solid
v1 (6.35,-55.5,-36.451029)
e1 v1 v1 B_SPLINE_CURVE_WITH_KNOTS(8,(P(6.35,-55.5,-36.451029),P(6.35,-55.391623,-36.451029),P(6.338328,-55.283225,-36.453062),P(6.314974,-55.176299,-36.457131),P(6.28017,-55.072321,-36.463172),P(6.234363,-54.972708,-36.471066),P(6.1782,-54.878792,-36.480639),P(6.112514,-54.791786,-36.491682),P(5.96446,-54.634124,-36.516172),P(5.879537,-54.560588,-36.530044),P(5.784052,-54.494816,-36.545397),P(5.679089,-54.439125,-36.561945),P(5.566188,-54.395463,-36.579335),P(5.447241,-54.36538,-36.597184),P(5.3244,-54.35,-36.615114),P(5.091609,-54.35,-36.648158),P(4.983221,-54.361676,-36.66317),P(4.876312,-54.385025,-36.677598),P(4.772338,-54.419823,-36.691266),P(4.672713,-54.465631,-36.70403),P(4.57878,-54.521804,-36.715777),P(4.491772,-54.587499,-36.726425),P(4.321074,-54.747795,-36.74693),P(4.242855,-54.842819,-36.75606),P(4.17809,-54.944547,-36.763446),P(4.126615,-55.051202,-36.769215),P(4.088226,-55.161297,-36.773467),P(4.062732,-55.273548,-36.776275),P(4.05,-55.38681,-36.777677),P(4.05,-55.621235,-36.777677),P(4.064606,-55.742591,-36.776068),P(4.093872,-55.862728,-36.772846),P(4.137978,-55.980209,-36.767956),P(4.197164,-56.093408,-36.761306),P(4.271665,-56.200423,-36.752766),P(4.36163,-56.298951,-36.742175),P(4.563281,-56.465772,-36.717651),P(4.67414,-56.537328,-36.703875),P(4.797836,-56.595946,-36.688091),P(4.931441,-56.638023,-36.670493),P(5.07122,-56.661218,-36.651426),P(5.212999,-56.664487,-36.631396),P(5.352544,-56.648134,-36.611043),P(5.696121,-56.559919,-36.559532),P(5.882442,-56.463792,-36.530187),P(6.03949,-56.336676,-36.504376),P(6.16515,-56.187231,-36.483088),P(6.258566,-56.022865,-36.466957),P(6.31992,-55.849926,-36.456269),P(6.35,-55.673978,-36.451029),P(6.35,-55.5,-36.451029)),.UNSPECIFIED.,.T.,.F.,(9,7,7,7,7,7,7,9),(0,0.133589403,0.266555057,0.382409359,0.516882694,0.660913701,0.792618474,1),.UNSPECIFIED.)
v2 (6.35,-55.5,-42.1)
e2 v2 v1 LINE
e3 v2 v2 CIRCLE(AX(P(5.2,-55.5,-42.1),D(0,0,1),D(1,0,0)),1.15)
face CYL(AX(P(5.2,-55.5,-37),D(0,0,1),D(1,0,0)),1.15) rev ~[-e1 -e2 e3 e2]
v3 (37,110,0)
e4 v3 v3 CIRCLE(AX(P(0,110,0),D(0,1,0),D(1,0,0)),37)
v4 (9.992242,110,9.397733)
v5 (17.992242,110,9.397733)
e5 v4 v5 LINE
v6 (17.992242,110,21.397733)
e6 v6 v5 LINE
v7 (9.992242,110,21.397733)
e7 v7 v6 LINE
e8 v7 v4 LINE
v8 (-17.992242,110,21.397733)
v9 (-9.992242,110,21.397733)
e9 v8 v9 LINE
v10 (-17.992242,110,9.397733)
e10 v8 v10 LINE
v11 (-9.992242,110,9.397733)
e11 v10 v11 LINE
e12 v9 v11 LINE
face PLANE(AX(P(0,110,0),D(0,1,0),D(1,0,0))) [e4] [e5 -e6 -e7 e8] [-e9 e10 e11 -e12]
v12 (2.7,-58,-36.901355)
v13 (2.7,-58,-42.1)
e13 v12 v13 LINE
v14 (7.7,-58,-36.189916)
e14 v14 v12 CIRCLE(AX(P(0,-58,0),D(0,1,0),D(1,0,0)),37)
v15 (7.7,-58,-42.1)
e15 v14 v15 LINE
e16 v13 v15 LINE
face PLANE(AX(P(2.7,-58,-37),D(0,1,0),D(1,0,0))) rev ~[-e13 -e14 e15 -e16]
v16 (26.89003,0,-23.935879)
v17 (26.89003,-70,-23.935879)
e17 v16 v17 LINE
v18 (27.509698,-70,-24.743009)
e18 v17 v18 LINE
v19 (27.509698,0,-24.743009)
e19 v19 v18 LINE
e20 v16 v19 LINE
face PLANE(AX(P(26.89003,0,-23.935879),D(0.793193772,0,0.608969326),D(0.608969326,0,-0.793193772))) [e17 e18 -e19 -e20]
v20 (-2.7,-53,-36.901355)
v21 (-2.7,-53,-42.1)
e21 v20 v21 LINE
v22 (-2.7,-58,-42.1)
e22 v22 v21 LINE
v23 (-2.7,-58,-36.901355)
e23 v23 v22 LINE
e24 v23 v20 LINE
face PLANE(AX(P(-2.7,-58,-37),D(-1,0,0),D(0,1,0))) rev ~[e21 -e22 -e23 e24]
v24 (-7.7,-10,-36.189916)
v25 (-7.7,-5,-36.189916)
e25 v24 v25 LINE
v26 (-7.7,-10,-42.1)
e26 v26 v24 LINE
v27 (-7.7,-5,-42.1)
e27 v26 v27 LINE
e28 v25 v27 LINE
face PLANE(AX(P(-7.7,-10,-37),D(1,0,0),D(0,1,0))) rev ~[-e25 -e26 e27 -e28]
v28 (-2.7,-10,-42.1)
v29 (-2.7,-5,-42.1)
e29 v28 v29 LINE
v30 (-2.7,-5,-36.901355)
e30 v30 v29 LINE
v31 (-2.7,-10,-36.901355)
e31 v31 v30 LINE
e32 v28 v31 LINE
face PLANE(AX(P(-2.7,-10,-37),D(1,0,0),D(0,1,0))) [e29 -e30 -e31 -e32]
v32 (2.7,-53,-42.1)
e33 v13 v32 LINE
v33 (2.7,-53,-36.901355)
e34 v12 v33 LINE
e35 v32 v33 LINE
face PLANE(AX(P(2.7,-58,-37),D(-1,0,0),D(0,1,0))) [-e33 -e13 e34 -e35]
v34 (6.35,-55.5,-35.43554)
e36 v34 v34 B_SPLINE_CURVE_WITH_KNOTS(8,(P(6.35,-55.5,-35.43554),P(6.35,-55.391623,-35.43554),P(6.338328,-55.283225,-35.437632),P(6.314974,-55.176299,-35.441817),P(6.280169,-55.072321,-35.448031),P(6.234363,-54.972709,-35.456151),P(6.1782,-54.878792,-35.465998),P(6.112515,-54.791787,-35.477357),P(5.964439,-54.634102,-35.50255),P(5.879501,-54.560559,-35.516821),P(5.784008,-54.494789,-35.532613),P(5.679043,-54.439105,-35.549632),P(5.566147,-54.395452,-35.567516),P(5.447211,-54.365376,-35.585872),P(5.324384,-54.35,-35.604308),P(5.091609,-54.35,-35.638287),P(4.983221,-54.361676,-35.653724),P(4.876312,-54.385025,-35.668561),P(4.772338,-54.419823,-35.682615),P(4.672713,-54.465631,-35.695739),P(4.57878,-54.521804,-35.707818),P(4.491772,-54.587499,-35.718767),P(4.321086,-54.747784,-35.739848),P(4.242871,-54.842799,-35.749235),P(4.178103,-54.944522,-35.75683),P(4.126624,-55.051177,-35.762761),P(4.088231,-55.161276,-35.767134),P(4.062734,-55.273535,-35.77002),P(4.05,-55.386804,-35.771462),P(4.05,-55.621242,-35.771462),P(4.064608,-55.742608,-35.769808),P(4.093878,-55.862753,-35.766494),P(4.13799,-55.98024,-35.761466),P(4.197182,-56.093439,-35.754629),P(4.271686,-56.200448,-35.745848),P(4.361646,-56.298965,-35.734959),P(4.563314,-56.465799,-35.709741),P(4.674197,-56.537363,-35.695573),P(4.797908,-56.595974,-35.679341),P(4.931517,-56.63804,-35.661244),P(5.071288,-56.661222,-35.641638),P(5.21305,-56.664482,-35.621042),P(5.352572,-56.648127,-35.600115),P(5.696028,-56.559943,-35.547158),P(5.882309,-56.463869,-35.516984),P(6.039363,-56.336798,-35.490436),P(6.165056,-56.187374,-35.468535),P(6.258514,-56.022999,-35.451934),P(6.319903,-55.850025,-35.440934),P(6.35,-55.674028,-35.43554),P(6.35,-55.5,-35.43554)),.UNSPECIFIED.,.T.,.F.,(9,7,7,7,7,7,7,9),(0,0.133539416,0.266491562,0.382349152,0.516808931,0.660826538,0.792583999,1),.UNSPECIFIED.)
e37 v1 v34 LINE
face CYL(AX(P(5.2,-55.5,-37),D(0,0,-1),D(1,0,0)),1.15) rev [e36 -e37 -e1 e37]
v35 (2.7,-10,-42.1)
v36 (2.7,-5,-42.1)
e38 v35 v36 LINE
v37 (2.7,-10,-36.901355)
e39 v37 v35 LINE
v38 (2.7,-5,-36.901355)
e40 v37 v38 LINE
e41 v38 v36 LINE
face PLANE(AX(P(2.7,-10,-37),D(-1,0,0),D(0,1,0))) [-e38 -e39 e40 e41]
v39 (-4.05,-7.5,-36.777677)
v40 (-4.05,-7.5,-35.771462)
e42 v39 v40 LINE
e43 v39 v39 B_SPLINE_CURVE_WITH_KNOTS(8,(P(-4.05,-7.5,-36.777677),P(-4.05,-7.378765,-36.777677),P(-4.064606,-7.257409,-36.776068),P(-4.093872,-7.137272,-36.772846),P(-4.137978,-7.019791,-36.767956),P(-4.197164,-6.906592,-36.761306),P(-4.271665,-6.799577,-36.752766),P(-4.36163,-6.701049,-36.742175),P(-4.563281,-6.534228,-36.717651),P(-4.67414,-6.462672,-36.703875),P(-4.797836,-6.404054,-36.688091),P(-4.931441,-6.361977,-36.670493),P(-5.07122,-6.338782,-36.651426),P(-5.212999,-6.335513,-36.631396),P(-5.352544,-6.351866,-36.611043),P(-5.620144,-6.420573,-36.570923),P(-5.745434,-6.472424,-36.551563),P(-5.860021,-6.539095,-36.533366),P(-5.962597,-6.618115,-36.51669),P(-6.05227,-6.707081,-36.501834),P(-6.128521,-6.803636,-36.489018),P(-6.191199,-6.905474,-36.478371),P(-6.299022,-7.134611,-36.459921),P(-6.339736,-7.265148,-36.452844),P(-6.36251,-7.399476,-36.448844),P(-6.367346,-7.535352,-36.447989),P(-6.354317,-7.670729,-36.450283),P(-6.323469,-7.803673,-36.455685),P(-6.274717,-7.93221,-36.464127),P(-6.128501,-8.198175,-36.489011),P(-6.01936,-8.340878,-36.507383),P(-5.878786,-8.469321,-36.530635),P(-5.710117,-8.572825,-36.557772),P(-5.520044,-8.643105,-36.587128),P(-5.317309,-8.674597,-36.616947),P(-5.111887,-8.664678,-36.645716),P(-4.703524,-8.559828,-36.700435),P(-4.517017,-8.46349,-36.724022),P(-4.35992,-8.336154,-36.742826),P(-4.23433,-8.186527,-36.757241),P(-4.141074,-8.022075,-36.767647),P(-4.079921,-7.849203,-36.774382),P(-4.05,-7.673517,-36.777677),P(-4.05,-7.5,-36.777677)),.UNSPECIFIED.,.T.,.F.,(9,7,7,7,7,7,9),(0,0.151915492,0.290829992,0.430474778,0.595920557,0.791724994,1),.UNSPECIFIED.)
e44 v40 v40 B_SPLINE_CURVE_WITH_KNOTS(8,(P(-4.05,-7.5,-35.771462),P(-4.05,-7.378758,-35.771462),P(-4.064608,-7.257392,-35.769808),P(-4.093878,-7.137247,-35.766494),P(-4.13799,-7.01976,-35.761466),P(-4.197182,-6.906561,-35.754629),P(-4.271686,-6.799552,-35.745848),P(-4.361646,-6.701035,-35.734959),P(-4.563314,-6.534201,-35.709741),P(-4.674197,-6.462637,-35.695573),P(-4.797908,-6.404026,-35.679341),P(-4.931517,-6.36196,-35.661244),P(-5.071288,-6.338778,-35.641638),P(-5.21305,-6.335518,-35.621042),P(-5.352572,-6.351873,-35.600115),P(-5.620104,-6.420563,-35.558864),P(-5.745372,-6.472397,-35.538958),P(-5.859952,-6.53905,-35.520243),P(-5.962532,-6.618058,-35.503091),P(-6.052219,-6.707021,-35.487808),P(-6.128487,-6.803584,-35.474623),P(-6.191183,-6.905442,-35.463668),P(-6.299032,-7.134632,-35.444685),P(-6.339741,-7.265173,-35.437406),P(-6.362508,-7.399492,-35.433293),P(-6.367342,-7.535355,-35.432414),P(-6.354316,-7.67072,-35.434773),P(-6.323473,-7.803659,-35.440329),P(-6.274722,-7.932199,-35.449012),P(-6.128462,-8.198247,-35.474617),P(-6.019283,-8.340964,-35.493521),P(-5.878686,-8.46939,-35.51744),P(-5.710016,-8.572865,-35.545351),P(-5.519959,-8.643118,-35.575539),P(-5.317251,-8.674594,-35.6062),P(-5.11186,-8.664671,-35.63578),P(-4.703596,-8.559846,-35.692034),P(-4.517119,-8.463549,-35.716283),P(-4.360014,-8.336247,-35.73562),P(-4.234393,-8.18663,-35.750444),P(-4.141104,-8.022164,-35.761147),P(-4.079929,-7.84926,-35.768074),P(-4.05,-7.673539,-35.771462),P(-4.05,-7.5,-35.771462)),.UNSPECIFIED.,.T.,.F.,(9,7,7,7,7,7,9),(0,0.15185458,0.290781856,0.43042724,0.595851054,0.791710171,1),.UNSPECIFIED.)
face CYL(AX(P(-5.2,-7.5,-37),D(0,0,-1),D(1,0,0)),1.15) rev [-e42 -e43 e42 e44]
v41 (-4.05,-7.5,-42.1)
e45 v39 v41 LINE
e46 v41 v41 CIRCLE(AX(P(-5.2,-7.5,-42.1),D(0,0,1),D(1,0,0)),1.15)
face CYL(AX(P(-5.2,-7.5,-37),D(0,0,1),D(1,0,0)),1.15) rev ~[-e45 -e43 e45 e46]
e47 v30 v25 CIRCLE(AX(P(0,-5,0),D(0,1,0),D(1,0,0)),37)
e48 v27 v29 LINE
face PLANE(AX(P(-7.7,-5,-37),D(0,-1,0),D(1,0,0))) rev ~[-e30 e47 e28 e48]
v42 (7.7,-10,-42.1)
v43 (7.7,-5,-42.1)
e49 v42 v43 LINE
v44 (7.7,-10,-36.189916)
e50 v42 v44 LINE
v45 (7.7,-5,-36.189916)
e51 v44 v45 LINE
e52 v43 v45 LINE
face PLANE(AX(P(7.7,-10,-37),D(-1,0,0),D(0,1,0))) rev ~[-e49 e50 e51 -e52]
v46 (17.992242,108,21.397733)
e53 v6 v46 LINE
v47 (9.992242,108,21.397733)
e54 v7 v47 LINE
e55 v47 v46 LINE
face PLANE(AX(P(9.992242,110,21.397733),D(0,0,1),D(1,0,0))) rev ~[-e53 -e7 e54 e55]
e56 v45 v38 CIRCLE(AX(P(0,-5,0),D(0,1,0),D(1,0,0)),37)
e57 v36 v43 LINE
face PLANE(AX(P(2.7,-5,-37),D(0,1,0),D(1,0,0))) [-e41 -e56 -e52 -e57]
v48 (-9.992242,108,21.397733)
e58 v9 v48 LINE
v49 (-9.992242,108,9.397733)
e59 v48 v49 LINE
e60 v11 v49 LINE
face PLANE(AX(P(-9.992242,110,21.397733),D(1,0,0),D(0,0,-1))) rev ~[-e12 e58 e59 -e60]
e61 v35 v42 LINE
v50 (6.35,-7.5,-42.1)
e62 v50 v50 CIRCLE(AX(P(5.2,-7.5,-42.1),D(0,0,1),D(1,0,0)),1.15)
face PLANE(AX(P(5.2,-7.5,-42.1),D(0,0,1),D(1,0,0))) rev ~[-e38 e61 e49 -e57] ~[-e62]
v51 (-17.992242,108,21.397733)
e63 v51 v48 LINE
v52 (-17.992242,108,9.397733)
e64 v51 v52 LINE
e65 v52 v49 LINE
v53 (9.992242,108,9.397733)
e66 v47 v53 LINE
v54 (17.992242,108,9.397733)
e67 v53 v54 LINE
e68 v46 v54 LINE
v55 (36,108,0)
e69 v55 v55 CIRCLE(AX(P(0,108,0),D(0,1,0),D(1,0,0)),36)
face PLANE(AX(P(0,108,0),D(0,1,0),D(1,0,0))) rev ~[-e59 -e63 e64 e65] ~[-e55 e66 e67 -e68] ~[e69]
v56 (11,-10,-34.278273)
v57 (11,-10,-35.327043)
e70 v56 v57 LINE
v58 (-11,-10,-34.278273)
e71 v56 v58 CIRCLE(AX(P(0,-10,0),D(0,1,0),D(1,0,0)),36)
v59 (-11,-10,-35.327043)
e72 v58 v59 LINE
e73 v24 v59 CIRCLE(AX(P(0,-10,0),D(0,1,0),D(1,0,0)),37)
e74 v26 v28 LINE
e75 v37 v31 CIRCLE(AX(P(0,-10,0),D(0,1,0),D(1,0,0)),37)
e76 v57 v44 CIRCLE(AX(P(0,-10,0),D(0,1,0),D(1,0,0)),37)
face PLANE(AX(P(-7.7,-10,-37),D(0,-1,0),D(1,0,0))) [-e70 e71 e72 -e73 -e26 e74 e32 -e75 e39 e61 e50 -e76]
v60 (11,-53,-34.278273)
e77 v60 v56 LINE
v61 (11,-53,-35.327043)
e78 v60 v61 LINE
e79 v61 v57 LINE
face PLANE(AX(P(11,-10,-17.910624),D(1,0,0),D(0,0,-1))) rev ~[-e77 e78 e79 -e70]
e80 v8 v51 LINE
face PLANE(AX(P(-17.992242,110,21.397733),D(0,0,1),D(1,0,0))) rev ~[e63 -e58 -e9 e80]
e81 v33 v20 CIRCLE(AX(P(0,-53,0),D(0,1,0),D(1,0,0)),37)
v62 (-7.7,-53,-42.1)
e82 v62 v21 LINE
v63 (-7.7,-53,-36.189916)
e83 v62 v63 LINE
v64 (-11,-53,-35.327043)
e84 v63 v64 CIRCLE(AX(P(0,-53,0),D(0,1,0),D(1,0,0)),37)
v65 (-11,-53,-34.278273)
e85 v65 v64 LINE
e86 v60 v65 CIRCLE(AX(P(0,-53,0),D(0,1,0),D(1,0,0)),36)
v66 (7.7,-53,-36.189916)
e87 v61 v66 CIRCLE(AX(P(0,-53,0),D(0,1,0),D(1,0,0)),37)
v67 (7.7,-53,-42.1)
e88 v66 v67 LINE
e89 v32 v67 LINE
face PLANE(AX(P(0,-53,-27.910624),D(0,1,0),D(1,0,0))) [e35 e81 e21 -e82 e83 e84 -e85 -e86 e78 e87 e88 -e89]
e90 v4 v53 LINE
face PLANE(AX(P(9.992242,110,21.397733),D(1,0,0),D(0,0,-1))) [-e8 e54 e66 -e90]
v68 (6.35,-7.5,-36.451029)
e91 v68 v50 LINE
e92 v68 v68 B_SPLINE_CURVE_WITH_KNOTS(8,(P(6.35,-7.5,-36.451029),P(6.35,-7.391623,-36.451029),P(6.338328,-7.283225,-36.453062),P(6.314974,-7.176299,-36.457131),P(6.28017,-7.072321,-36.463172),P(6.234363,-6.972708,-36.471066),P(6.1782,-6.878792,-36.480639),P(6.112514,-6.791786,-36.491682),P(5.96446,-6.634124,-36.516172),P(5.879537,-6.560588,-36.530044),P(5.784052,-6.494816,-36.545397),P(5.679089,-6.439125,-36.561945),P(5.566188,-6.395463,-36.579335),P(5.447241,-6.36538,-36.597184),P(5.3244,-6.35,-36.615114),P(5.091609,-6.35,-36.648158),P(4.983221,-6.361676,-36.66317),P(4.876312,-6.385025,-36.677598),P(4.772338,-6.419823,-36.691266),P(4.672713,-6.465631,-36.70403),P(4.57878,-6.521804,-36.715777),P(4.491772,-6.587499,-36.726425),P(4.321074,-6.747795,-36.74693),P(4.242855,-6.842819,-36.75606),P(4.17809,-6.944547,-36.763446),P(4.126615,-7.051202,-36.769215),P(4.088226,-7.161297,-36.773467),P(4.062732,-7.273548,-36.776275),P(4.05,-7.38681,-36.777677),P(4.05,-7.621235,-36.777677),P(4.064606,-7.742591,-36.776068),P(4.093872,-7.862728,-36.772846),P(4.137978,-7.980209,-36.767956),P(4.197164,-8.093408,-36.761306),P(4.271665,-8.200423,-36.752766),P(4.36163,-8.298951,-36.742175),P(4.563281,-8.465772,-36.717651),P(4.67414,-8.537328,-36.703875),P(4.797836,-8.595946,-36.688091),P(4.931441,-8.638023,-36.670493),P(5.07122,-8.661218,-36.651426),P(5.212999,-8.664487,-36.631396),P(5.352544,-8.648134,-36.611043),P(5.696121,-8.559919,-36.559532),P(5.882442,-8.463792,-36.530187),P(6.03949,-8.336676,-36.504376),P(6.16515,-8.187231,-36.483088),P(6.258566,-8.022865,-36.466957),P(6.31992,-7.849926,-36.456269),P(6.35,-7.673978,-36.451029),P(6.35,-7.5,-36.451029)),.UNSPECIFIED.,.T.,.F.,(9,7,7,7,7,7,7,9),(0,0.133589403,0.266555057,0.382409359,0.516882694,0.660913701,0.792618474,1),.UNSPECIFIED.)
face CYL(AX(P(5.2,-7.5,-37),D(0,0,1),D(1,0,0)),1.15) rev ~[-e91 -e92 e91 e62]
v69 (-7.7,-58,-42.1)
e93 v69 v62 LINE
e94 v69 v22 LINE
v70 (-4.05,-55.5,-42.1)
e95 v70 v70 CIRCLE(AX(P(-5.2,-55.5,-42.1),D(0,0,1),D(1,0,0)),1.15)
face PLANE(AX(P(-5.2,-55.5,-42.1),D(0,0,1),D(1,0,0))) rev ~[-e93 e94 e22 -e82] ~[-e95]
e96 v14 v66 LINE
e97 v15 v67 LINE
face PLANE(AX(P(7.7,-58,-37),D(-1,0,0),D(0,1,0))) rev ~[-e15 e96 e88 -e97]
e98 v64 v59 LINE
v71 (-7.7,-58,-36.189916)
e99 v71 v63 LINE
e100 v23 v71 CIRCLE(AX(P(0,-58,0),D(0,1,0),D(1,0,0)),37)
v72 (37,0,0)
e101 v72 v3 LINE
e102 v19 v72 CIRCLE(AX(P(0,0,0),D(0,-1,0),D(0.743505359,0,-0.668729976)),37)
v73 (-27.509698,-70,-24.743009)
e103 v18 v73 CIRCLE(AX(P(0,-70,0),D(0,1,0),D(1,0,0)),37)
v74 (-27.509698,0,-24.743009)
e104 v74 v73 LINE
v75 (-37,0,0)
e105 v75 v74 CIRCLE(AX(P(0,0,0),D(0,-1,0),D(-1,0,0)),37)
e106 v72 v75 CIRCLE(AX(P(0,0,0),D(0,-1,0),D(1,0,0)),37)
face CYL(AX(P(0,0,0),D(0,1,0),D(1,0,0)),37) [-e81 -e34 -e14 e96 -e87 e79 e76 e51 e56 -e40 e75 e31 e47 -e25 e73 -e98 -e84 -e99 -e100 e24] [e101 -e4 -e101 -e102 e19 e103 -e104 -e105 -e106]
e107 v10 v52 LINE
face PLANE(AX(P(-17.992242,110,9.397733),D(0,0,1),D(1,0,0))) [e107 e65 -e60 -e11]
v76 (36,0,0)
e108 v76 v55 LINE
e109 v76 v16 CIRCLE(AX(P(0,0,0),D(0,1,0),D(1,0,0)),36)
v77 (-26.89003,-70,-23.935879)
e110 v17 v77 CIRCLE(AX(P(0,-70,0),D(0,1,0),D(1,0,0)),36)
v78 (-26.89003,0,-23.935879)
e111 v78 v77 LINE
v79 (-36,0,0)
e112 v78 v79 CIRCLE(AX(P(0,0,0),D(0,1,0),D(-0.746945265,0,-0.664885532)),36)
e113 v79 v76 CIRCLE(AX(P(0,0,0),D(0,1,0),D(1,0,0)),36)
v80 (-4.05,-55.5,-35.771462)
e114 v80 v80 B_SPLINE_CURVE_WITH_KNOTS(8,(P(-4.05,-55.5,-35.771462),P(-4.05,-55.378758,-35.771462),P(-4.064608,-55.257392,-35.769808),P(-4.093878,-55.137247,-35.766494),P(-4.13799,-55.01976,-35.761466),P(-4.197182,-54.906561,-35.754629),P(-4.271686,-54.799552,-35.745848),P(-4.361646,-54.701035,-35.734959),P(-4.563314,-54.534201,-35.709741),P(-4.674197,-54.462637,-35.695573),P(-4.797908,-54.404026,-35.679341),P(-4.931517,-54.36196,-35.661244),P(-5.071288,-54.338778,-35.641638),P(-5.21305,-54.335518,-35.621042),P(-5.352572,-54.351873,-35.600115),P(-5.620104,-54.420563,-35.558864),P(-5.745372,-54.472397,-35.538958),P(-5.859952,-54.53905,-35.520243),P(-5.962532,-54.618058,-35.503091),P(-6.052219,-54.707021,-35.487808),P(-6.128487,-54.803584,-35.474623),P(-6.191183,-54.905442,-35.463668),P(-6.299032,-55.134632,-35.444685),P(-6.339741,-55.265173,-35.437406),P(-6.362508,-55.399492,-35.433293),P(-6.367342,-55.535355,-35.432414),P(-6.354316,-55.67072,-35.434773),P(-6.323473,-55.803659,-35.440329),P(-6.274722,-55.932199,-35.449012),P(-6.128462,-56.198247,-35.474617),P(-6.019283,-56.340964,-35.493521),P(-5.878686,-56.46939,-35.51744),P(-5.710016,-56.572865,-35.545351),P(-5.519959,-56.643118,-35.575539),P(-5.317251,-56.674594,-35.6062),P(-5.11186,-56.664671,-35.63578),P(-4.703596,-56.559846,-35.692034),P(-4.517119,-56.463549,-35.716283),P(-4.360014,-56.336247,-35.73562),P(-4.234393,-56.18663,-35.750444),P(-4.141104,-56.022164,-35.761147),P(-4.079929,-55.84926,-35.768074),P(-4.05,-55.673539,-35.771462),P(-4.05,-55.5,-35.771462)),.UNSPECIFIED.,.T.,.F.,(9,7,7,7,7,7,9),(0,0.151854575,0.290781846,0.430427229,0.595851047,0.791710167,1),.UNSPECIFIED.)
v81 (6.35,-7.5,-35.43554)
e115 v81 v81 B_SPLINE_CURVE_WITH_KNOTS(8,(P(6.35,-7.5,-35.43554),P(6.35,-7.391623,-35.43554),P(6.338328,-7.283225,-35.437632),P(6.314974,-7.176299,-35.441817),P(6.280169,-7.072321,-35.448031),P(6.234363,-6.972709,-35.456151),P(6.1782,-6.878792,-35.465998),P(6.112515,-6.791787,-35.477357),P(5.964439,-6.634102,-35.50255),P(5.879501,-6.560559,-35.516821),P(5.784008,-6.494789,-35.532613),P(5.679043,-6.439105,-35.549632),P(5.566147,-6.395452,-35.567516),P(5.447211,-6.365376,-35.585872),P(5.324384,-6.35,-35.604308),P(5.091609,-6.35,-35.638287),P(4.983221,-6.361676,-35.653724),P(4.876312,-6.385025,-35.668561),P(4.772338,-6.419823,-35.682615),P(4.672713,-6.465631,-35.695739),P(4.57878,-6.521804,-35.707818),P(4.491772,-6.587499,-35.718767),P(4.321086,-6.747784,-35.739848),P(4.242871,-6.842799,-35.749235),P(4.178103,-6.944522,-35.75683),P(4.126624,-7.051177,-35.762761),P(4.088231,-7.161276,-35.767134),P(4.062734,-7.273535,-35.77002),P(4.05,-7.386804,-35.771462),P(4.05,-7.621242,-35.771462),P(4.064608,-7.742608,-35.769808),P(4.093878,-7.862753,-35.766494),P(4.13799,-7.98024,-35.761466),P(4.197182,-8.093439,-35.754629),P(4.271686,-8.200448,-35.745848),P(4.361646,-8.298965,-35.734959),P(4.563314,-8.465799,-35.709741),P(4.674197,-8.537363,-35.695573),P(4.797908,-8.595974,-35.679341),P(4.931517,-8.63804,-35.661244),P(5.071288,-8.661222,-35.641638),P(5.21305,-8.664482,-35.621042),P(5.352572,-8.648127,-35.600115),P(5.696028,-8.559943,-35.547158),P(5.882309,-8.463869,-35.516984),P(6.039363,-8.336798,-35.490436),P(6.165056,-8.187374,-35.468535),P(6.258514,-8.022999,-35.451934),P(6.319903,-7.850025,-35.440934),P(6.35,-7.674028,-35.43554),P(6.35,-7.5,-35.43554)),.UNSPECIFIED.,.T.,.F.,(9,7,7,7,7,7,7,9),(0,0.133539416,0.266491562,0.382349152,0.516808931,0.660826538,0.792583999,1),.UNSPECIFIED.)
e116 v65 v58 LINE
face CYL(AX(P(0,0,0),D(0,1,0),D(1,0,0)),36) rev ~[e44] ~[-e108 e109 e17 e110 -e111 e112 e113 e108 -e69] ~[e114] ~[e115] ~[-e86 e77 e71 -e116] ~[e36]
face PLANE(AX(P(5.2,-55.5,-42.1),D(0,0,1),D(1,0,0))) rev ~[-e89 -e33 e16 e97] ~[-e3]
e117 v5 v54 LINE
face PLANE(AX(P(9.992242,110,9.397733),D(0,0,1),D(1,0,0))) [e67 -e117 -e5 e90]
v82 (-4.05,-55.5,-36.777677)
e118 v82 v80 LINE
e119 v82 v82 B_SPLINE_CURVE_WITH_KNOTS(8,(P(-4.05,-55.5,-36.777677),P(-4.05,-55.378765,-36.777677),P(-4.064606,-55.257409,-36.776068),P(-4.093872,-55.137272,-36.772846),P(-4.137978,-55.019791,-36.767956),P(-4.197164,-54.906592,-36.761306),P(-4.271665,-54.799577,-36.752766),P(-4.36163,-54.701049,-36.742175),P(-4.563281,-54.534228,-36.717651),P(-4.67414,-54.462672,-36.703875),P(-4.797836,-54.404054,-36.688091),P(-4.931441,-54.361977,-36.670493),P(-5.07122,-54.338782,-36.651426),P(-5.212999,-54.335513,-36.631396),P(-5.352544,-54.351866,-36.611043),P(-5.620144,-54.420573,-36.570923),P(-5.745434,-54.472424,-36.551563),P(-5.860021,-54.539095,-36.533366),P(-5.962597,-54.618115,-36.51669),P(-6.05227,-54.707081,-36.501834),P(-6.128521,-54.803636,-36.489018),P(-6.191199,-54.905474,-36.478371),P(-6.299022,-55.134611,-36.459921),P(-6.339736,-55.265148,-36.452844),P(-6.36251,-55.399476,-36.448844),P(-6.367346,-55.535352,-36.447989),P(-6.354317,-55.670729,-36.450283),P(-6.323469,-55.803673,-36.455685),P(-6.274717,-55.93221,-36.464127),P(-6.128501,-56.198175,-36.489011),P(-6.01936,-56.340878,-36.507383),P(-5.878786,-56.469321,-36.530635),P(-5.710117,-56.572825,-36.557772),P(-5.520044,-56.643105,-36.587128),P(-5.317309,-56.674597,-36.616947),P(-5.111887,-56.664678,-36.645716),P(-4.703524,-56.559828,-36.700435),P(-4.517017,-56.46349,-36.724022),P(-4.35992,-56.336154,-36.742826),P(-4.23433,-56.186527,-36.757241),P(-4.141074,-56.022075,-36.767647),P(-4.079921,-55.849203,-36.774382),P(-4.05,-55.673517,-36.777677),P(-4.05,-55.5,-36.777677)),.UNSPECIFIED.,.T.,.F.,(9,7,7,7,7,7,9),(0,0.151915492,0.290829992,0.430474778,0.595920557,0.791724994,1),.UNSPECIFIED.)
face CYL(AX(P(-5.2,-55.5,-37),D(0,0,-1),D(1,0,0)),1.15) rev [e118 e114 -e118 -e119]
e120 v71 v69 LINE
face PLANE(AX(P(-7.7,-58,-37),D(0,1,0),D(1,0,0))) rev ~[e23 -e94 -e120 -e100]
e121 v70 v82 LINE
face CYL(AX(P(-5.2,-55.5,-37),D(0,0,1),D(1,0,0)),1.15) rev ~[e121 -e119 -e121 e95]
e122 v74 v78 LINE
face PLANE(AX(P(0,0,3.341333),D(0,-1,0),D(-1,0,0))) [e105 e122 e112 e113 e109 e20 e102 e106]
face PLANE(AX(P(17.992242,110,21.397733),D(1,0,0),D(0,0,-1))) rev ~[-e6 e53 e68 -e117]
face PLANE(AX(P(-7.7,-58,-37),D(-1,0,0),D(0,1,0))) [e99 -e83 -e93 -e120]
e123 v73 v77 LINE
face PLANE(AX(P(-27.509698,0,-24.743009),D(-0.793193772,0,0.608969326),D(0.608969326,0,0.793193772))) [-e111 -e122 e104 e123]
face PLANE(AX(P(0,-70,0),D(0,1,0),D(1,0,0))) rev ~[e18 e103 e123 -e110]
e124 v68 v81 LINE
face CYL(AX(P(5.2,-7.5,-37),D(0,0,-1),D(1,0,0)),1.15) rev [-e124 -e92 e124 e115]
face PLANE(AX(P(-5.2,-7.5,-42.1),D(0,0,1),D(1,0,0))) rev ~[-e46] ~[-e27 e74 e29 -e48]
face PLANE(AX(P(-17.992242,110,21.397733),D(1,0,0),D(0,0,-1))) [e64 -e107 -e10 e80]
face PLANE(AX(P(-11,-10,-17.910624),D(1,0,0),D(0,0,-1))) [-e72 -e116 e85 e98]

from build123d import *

# Parameters (mm, degrees)
SKETCH_1_R               = 37
EXTRUDE_1_DEPTH          = 110
EXTRUDE_1_DEPTH_BACK     = 70
SKETCH_2_R               = 36
CUT_EXTRUDE_1_DEPTH      = 108
CUT_EXTRUDE_1_DEPTH_BACK = 70
CUT_EXTRUDE_6_DEPTH      = 70
SKETCH_7_W               = 22
SKETCH_7_H               = 20
CUT_EXTRUDE_7_DEPTH      = 43
SKETCH_10_W              = 8
SKETCH_10_H              = 12
CUT_EXTRUDE_8_DEPTH      = 8.1
SKETCH_12_W              = 5
SKETCH_12_H              = 5
SKETCH_12_R              = 1.15
EXTRUDE_3_DEPTH          = 1
EXTRUDE_3_DEPTH_BACK     = 5.1
SKETCH_13_R              = 1.15
CUT_EXTRUDE_9_DEPTH      = 18.4


with BuildPart() as part:
    # 草圖1 → 填料-伸長1 (new body, two sides)
    with BuildSketch(Plane(origin=(0, 0, 0), x_dir=(1, 0, 0), z_dir=(0, 1, 0))) as extrude_1_sk:
        Circle(SKETCH_1_R)
    extrude(amount=EXTRUDE_1_DEPTH)
    extrude(extrude_1_sk.sketch, amount=-EXTRUDE_1_DEPTH_BACK)

    # 草圖2 → 除料-伸長1 (cut, two sides)
    with BuildSketch(Plane(origin=(0, 0, 0), x_dir=(1, 0, 0), z_dir=(0, 1, 0))) as cut_extrude_1_sk:
        Circle(SKETCH_2_R)
    extrude(amount=CUT_EXTRUDE_1_DEPTH, mode=Mode.SUBTRACT)
    extrude(cut_extrude_1_sk.sketch, amount=-CUT_EXTRUDE_1_DEPTH_BACK, mode=Mode.SUBTRACT)

    # 草圖6 → 除料-伸長6 (cut)
    with BuildSketch(Plane(origin=(0, 0, 0), x_dir=(1, 0, 0), z_dir=(0, 1, 0))):
        with BuildLine():
            Line((-36, 0), (26.300758937, 0))
            Line((26.300758937, 0), (36, 0))
            ThreePointArc((36, 0), (33.645512806, 12.805446811), (26.890029553, 23.935879149))
            Line((26.890029553, 23.935879149), (27.509698295, 24.743009108))
            ThreePointArc((27.509698295, 24.743009108), (34.546047798, 13.25030496), (37, 0))
            ThreePointArc((37, 0), (0, -37), (-37, 0))
            ThreePointArc((-37, 0), (-34.546047798, 13.25030496), (-27.509698295, 24.743009108))
            Line((-27.509698295, 24.743009108), (-26.890029553, 23.935879149))
            ThreePointArc((-26.890029553, 23.935879149), (-33.645512806, 12.805446811), (-36, 0))
        make_face()
    extrude(amount=-CUT_EXTRUDE_6_DEPTH, mode=Mode.SUBTRACT)

    # 草圖7 → 除料-伸長7 (cut)
    with BuildSketch(Plane(origin=(0, -10, 0), x_dir=(1, 0, 0), z_dir=(0, 1, 0))):
        with Locations((0, 27.910624132)):
            Rectangle(SKETCH_7_W, SKETCH_7_H)
    extrude(amount=-CUT_EXTRUDE_7_DEPTH, mode=Mode.SUBTRACT)

    # 草圖10 → 除料-伸長8 (cut)
    with BuildSketch(Plane(origin=(0, 110, 0), x_dir=(1, 0, 0), z_dir=(0, 1, 0))):
        with Locations((-13.992241726, -15.397733401)):
            Rectangle(SKETCH_10_W, SKETCH_10_H)
        with Locations((13.992241726, -15.397733401)):
            Rectangle(SKETCH_10_W, SKETCH_10_H)
    extrude(amount=-CUT_EXTRUDE_8_DEPTH, mode=Mode.SUBTRACT)

    # 草圖12 → 填料-伸長3 (add, two sides)
    with BuildSketch(Plane.XY.offset(-37)) as extrude_3_sk:
        with Locations((-5.2, -7.5)):
            Rectangle(SKETCH_12_W, SKETCH_12_H)
        with Locations((-5.2, -7.5)):
            Circle(SKETCH_12_R, mode=Mode.SUBTRACT)
        with Locations((5.2, -7.5)):
            Rectangle(SKETCH_12_W, SKETCH_12_H)
        with Locations((5.2, -7.5)):
            Circle(SKETCH_12_R, mode=Mode.SUBTRACT)
        with Locations((5.2, -55.5)):
            Rectangle(SKETCH_12_W, SKETCH_12_H)
        with Locations((5.2, -55.5)):
            Circle(SKETCH_12_R, mode=Mode.SUBTRACT)
        with Locations((-5.2, -55.5)):
            Rectangle(SKETCH_12_W, SKETCH_12_H)
        with Locations((-5.2, -55.5)):
            Circle(SKETCH_12_R, mode=Mode.SUBTRACT)
    extrude(amount=EXTRUDE_3_DEPTH)
    extrude(extrude_3_sk.sketch, amount=-EXTRUDE_3_DEPTH_BACK)

    # 草圖13 → 除料-伸長9 (cut)
    with BuildSketch(Plane.XY.offset(-37)):
        with Locations((5.2, -7.5)):
            Circle(SKETCH_13_R)
        with Locations((-5.2, -7.5)):
            Circle(SKETCH_13_R)
        with Locations((-5.2, -55.5)):
            Circle(SKETCH_13_R)
        with Locations((5.2, -55.5)):
            Circle(SKETCH_13_R)
    extrude(amount=CUT_EXTRUDE_9_DEPTH, mode=Mode.SUBTRACT)


solid = part.part
